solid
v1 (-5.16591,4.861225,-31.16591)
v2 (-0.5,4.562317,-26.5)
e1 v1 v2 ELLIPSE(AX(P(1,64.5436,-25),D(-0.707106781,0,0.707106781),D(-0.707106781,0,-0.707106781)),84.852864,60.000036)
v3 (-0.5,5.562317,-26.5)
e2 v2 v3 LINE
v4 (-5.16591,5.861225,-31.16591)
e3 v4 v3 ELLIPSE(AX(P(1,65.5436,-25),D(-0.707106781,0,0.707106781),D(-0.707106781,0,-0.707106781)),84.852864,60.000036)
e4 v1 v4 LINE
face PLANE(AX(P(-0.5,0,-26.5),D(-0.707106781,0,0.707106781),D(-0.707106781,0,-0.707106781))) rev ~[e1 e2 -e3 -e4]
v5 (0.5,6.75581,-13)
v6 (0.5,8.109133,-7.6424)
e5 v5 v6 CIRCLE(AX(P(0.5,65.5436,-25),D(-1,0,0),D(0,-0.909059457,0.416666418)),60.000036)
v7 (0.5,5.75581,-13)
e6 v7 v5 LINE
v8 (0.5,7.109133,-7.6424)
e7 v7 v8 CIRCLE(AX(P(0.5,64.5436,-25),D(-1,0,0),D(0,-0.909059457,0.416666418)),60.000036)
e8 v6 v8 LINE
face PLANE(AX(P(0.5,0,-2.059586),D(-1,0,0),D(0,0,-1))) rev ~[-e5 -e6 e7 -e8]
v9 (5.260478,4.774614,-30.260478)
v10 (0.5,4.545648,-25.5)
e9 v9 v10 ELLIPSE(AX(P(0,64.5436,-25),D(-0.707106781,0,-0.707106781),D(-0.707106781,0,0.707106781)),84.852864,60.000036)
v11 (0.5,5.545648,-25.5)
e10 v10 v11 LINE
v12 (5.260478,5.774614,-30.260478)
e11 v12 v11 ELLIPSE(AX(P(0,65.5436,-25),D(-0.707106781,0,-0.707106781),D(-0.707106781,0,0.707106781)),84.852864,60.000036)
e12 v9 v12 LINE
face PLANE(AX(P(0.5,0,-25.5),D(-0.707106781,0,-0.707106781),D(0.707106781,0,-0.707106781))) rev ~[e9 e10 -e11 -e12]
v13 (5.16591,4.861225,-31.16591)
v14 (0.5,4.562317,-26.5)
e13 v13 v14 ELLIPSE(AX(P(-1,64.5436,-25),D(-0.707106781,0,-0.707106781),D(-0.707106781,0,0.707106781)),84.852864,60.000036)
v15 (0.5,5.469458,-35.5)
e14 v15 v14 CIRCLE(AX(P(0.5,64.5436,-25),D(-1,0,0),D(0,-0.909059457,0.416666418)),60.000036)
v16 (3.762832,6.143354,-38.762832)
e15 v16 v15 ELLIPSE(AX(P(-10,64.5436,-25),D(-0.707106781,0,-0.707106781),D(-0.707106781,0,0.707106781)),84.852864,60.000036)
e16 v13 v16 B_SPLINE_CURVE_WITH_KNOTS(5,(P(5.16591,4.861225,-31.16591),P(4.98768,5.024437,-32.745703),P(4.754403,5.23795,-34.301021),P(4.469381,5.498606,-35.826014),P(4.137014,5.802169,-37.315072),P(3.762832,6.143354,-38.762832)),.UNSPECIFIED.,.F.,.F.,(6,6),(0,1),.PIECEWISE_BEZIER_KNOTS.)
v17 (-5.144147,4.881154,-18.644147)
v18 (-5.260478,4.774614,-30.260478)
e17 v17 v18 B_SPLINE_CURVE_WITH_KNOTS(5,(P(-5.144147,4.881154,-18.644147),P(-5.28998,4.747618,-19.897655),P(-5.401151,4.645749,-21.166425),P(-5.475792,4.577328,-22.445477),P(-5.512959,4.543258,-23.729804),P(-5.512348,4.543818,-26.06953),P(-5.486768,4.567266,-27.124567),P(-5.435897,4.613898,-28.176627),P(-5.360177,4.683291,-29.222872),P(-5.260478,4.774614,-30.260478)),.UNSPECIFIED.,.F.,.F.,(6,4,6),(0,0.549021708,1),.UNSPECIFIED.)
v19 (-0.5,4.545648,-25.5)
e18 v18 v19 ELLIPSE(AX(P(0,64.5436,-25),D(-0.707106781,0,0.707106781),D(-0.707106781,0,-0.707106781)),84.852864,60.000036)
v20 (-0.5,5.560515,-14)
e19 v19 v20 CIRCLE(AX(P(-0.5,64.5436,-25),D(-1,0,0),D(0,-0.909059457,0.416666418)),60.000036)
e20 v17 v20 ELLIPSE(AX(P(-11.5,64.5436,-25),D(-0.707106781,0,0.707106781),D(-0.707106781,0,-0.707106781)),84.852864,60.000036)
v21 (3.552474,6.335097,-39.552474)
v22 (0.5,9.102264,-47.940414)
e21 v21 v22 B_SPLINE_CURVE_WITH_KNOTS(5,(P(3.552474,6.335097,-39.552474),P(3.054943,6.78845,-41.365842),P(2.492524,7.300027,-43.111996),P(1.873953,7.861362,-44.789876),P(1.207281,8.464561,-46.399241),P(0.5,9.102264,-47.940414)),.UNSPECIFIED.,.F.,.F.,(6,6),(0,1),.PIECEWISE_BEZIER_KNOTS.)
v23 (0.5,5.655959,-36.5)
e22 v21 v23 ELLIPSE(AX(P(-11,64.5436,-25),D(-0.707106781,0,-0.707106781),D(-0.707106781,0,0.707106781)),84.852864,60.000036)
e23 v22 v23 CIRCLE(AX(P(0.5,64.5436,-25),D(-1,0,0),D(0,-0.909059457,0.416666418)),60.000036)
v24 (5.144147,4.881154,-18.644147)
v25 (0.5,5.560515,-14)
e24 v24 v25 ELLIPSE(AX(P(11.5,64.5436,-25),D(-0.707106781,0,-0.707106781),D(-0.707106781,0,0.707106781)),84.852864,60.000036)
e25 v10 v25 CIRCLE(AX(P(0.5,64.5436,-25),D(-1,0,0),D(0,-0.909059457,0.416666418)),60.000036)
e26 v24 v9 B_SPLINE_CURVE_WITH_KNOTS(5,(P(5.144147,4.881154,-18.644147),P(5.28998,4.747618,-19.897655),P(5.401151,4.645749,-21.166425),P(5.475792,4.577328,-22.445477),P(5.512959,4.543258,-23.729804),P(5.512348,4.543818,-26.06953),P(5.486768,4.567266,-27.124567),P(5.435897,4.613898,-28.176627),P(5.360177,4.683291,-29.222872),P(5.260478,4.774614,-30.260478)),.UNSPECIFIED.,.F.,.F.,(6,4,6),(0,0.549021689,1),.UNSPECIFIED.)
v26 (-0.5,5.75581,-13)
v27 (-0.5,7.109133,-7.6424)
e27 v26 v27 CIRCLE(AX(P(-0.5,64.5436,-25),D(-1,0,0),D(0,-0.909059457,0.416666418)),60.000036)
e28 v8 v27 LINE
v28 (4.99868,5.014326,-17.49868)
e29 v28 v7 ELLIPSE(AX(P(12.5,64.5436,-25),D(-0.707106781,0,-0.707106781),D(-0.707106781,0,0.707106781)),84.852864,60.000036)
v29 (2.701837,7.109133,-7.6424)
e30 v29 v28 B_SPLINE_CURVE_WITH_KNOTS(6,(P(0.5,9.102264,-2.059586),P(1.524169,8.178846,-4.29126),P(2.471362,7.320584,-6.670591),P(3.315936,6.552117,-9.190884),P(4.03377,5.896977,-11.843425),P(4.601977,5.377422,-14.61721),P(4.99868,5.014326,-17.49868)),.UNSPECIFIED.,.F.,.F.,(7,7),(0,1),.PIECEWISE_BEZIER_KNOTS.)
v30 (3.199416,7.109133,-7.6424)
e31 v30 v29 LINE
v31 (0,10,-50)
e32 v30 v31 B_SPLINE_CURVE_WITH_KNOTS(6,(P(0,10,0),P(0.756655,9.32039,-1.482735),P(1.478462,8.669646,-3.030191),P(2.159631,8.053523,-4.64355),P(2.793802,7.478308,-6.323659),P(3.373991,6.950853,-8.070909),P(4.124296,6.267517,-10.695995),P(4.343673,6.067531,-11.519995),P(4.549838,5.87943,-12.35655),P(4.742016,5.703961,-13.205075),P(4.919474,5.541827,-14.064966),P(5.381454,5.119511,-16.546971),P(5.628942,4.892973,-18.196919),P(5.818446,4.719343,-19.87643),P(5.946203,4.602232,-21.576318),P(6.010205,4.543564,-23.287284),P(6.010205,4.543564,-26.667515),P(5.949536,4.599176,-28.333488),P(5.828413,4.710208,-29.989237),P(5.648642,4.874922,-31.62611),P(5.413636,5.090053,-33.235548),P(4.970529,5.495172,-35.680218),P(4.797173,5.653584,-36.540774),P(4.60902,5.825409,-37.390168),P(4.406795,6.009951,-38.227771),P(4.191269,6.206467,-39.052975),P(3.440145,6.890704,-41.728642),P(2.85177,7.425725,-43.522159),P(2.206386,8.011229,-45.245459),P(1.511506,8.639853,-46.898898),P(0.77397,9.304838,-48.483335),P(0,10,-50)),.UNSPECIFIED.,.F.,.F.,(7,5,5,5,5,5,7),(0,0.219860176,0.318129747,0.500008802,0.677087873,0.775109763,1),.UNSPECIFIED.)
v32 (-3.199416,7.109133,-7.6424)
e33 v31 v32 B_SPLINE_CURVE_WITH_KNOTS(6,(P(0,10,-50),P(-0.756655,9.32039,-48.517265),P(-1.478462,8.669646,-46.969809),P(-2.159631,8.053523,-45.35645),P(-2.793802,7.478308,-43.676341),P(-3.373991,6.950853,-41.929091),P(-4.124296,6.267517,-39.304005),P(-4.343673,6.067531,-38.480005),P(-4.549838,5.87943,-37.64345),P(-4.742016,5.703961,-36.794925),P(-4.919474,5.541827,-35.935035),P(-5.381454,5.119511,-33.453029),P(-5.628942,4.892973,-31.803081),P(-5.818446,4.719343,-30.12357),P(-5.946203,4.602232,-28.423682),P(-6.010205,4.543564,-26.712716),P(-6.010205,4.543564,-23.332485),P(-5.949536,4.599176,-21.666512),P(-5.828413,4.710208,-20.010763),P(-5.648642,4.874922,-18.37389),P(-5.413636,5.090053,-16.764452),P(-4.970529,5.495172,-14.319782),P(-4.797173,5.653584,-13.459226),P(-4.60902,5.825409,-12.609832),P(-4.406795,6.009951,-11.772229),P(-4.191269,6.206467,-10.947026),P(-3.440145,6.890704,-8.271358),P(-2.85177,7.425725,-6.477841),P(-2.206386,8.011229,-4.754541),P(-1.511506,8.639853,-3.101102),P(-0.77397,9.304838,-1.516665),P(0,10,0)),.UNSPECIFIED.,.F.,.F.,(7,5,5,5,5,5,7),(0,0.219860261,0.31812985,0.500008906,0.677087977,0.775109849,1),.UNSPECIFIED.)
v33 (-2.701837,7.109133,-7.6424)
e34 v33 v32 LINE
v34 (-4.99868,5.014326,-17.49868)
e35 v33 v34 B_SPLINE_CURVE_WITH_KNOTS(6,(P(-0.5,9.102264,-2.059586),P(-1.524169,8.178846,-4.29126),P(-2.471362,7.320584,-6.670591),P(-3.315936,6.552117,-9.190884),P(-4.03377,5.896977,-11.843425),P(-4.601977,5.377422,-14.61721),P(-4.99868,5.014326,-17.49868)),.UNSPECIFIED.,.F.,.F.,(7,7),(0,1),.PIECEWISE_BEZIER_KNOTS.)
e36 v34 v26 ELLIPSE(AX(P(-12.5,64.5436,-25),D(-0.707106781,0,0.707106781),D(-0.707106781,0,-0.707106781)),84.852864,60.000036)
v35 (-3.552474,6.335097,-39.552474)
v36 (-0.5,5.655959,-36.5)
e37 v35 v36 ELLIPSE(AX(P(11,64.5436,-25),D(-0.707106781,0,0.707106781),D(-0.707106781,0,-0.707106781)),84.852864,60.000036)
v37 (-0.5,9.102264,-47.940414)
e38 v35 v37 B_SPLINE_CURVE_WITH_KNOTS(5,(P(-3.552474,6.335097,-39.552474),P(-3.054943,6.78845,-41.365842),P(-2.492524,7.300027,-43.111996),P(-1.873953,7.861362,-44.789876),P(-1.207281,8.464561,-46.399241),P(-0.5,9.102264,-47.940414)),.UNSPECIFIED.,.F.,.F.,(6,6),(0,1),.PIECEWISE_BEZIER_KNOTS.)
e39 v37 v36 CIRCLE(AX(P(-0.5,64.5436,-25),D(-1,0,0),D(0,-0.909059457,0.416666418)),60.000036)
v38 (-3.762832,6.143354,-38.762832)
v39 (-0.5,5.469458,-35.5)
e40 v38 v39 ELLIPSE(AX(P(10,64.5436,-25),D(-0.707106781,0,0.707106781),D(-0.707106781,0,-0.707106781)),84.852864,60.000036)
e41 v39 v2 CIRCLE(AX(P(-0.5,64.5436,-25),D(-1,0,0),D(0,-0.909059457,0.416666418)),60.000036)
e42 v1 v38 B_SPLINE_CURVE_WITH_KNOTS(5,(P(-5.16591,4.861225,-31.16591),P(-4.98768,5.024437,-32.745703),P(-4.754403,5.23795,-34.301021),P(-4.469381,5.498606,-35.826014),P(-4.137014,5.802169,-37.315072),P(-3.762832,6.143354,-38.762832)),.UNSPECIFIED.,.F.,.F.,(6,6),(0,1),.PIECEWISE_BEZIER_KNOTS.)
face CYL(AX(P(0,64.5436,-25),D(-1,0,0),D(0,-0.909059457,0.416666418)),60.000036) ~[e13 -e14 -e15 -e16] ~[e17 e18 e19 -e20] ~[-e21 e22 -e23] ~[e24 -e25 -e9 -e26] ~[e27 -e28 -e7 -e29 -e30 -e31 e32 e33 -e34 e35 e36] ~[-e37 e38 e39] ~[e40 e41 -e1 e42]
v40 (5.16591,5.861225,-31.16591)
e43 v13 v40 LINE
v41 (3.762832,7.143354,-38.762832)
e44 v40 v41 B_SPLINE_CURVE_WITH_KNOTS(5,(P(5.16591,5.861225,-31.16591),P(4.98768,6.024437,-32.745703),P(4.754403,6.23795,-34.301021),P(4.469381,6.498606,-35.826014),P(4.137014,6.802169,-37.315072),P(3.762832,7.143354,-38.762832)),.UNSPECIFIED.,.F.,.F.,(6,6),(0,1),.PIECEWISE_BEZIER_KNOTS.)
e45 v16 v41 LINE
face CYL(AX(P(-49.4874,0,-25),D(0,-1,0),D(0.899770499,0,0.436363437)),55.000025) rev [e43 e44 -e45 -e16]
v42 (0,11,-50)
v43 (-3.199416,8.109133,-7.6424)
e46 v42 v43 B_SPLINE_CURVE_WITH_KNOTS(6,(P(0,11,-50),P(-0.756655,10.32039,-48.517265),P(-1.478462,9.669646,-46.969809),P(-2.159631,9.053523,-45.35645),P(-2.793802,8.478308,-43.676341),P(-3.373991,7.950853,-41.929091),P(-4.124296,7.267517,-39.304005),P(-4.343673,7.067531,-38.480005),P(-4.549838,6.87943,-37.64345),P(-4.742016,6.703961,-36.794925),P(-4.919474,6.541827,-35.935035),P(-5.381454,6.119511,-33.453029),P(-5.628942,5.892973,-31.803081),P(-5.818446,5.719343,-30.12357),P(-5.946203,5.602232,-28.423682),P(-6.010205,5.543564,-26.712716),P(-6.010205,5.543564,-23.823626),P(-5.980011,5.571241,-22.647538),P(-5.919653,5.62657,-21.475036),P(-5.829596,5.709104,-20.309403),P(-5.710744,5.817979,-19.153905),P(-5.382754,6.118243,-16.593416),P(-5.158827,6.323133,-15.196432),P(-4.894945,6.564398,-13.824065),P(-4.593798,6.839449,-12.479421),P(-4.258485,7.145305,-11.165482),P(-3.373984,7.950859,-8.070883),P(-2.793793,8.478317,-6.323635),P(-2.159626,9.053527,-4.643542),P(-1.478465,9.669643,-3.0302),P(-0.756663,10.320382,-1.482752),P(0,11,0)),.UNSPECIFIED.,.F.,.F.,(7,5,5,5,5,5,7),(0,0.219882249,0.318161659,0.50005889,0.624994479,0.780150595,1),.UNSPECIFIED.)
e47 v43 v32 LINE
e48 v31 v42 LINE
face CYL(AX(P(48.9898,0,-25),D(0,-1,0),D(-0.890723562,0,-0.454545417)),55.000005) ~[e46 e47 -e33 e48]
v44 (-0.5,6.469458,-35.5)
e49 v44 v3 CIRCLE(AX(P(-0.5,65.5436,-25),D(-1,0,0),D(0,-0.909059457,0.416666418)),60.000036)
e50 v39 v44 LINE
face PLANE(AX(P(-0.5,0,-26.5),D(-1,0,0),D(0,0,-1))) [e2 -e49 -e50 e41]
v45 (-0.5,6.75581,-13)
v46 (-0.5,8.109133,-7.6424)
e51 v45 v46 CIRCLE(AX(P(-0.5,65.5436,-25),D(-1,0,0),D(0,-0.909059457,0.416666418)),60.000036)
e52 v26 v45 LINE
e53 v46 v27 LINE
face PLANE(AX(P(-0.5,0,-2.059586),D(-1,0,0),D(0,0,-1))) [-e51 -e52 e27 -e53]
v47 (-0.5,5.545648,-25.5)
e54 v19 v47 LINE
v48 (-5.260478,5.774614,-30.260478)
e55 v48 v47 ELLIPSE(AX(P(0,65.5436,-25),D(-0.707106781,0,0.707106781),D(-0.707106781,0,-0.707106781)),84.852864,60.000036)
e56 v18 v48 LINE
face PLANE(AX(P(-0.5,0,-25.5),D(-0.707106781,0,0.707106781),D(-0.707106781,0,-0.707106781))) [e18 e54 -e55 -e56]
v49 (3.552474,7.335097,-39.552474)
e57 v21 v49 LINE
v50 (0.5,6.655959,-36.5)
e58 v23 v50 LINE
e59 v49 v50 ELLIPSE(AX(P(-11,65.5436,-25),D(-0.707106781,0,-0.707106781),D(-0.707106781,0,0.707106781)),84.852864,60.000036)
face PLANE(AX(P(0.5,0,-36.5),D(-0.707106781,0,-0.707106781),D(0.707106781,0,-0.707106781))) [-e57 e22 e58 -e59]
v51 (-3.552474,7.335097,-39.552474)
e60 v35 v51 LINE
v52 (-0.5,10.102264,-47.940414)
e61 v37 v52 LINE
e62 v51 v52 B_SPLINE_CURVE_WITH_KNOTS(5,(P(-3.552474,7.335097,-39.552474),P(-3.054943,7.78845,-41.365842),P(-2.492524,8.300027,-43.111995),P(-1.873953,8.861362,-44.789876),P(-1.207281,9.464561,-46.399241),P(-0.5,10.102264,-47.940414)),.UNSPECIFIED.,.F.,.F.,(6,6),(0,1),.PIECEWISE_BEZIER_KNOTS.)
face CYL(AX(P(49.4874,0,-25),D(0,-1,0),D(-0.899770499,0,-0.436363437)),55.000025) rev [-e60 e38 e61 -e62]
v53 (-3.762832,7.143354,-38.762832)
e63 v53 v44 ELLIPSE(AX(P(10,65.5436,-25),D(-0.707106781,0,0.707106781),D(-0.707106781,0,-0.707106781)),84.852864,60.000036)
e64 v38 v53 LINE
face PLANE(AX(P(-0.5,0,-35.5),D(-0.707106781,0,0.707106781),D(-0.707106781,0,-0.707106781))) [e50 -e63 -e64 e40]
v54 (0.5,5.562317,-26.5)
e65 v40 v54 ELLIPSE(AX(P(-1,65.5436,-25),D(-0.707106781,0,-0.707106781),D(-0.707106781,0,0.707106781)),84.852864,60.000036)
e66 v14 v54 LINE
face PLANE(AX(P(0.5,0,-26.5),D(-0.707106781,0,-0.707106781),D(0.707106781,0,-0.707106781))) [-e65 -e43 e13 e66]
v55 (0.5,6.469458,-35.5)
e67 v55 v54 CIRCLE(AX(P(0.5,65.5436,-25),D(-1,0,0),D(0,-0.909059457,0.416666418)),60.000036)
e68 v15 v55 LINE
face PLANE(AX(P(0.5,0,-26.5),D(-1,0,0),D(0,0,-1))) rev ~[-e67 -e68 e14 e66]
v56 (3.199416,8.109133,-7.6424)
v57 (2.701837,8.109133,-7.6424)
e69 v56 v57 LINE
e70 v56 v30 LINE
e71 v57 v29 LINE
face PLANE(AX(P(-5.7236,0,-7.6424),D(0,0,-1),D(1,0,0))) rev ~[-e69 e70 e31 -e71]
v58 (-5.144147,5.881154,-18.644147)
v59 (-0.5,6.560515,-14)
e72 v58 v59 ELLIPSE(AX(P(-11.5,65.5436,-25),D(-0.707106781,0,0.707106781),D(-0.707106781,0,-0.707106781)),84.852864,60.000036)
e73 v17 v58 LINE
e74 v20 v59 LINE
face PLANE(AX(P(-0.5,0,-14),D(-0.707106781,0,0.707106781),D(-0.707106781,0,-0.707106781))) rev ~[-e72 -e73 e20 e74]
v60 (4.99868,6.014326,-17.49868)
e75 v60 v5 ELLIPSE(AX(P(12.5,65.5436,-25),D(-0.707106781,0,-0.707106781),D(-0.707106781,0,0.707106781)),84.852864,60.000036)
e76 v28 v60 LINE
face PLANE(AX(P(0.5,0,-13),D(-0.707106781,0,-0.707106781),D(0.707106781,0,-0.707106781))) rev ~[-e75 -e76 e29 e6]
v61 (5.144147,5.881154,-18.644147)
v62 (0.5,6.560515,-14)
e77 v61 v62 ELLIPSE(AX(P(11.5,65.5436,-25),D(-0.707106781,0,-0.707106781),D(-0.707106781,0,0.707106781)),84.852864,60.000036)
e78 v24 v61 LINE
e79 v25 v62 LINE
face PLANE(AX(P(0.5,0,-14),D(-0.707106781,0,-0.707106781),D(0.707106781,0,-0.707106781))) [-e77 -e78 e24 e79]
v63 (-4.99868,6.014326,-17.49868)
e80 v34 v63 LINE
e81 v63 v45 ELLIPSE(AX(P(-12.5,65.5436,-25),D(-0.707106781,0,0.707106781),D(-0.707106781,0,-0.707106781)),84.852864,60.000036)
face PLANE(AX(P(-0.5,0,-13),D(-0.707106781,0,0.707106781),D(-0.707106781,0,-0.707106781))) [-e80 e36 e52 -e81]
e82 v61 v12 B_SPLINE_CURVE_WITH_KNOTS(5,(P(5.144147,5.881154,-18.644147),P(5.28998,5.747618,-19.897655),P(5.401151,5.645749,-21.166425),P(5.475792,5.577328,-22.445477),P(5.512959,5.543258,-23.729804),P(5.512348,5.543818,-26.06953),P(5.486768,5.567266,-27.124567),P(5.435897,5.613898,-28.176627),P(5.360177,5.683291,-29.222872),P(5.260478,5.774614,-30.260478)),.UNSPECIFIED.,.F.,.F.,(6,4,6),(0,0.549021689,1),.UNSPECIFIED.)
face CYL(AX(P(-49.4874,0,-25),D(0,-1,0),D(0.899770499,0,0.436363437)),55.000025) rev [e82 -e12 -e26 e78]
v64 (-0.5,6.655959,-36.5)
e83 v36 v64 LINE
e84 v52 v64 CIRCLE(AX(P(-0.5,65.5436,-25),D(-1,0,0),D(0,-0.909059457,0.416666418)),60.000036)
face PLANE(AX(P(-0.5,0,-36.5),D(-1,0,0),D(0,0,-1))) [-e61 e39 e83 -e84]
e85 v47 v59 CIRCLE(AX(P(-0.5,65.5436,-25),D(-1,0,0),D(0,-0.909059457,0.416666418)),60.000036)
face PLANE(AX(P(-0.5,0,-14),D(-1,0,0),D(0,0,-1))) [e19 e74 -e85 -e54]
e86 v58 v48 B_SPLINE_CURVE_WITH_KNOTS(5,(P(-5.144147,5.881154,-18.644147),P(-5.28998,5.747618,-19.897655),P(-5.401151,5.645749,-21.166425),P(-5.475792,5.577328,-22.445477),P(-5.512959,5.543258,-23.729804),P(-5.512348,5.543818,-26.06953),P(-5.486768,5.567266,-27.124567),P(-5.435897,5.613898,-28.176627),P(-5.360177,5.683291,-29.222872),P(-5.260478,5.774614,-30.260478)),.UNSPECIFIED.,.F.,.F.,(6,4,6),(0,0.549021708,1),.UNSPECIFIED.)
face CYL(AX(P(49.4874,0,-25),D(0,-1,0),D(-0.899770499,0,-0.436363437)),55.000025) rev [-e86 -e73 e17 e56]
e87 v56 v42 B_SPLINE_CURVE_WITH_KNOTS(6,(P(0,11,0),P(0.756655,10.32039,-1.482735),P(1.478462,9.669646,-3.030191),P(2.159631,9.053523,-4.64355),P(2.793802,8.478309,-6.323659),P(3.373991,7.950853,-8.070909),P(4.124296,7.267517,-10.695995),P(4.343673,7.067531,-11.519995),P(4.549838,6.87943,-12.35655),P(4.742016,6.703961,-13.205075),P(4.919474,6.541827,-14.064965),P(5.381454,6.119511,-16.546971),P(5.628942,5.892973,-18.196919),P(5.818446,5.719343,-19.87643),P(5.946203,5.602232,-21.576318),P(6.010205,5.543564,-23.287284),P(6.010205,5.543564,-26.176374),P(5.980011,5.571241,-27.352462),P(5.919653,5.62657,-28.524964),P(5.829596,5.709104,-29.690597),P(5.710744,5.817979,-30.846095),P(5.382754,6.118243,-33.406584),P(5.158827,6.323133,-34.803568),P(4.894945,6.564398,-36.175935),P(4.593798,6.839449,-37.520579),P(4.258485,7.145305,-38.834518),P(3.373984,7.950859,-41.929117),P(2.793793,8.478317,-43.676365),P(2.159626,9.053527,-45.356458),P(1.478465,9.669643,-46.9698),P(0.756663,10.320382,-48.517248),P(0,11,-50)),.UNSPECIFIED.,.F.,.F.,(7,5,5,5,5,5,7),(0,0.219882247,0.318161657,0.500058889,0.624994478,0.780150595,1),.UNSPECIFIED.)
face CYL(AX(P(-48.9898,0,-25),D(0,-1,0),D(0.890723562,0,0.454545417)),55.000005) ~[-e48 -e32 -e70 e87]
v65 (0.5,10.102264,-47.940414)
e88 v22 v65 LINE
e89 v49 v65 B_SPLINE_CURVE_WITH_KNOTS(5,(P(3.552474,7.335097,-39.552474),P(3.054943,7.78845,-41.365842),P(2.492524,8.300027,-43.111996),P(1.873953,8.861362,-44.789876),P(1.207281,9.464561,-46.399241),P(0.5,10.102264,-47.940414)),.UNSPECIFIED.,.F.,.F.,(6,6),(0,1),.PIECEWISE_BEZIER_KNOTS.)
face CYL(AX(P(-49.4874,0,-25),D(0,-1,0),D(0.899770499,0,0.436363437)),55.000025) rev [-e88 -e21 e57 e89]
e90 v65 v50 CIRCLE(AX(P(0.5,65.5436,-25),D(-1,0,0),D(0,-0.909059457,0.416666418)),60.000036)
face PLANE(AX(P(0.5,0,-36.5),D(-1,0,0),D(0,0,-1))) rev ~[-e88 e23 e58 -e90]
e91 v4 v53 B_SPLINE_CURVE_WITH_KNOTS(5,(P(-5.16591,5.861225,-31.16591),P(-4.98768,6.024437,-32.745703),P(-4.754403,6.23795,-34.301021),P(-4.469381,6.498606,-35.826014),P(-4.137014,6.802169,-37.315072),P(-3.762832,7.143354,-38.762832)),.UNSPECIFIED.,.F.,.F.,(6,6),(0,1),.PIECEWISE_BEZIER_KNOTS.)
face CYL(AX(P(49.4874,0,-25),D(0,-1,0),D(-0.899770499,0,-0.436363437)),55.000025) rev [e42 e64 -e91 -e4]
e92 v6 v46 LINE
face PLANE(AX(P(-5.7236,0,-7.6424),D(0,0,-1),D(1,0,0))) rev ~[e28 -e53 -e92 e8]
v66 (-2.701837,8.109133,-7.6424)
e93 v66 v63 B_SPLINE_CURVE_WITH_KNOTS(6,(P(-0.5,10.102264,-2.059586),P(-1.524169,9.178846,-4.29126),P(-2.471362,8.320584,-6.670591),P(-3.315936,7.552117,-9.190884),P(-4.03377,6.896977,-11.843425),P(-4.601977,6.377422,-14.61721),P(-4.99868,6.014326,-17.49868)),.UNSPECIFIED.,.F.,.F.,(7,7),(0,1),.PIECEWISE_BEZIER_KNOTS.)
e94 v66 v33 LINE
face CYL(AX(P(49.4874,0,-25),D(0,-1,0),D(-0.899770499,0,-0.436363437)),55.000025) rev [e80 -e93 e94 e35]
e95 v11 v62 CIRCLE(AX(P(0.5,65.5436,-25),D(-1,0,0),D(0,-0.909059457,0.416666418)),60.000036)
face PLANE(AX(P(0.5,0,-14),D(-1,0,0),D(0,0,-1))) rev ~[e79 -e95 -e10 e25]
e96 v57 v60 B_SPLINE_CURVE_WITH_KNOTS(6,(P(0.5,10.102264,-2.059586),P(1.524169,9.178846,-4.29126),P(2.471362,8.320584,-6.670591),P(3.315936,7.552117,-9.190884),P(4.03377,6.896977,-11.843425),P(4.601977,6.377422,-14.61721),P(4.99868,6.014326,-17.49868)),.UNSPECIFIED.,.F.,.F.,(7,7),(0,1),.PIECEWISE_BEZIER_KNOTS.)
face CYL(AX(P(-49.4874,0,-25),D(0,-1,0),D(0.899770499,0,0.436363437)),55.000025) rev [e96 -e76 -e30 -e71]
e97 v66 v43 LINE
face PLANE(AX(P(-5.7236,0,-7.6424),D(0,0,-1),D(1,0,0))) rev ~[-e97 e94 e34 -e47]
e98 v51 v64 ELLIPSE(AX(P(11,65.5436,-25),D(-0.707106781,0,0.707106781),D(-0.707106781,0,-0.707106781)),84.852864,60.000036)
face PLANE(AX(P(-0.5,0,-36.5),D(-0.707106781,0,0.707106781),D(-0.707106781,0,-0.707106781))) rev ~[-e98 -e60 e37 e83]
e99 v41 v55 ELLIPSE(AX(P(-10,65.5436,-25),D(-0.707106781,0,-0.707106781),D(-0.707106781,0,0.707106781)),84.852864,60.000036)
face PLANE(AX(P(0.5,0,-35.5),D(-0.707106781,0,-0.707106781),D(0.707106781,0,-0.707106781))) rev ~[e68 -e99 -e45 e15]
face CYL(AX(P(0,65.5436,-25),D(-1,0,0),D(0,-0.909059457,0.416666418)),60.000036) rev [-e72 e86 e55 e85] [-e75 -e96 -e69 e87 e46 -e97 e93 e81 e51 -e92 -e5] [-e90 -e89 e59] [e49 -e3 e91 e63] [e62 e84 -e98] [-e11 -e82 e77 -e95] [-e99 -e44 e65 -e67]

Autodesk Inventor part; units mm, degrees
ref_plane "YZ Plane" through (0, 0, 0) normal (1, 0, 0) x (0, 1, 0)
ref_plane "XZ Plane" through (0, 0, 0) normal (0, 1, 0) x (-1, 0, 0)
ref_plane "XY Plane" through (0, 0, 0) normal (0, 0, 1) x (1, 0, 0)
sketch "Sketch1" plane through (0, 0, 0) normal (0, 1, 0) x (-1, 0, 0)
  arc A0 (0, -50) -> (0, 0) centre (-48.9898, -25) ccw
  arc A1 (0, -49) -> (0, -1) centre (-49.4874, -25) ccw
  line L0 (0, 0) -> (0, -50)
  line L1 (0, -12.5) -> (5.5721, -18.0721)
  line L2 (0, -12.5) -> (7.8802, -12.5) construction
  line L3 (0, -13.5) -> (5.704, -19.204)
  line L4 (0, -25) -> (5.7127, -30.7127)
  line L5 (0, -25) -> (8.079, -25) construction
  line L6 (0, -26) -> (5.6114, -31.6114)
  line L7 (0, -35) -> (4.157, -39.157)
  line L8 (0, -35) -> (5.8789, -35) construction
  line L9 (0, -36) -> (3.9417, -39.9417)
  arc A2 (0, 0) -> (0, -50) centre (48.9898, -25) ccw
  arc A3 (0, -1) -> (0, -49) centre (49.4874, -25) ccw
  line L10 (0, -12.5) -> (-5.5721, -18.0721)
  line L11 (0, -13.5) -> (-5.704, -19.204)
  line L12 (0, -25) -> (-5.7127, -30.7127)
  line L13 (0, -26) -> (-5.6114, -31.6114)
  line L14 (0, -35) -> (-4.157, -39.157)
  line L15 (0, -36) -> (-3.9417, -39.9417)
  line L16 (0.5, 0) -> (0.5, -50.0047)
  line L17 (-0.5, 0) -> (-0.5, -50.0047)
  point P0 (5.1659, -31.1659)
  point P1 (3.7628, -38.7628)
  point P2 (0.5, -35.5)
  point P3 (0.5, -26.5)
  point P4 (-3.7628, -38.7628)
  point P5 (-5.1659, -31.1659)
  point P6 (-0.5, -26.5)
  point P7 (-0.5, -35.5)
  point P8 (-5.2605, -30.2605)
  point P9 (-5.1441, -18.6441)
  point P10 (-0.5, -14)
  point P11 (-0.5, -25.5)
  point P12 (-4.9987, -17.4987)
  point P13 (-0.5, -2.0596)
  point P14 (-0.5, -13)
  point P15 (-0.5, -36.5)
  point P16 (-0.5, -47.9404)
  point P17 (-3.5525, -39.5525)
  point P18 (4.9987, -17.4987)
  point P19 (0.5, -13)
  point P20 (0.5, -2.0596)
  point P21 (3.5525, -39.5525)
  point P22 (0.5, -47.9404)
  point P23 (0.5, -36.5)
  point P24 (5.1441, -18.6441)
  point P25 (5.2605, -30.2605)
  point P26 (0.5, -25.5)
  point P27 (0.5, -14)
  dimension "d0" = 50
  dimension "d1" = 55
  dimension "d2" = 48
  dimension "d3" = 55
  dimension "d4" = 45
  dimension "d5" = 45
  dimension "d6" = 45
extrude "Extrusion1" add sketch "Sketch1" along normal blind 20 contours L9 A1 L7 A0 | A0 L16 A1 L9 | L7 A1 L6 A0 | A0 L0 A1 L16 | L9 L16 L7 A1 | L6 A1 L4 A0 | A2 L17 A3 L0 | A1 L0 L9 L16 | L9 L0 L7 L16 | L4 A1 L3 A0 | L6 L16 L4 A1 | L7 L0 L6 L16 | A3 L17 L15 L0 | A2 L15 A3 L17 | L15 L17 L14 L0 | L3 A1 L1 A0 | L6 L0 L4 L16 | L14 L17 L13 L0 | A2 L14 A3 L15 | L15 A3 L14 L17 | L1 A1 L16 A0 | L3 L16 L1 A1 | L4 L0 L3 L16 | L13 L17 L12 L0 | A2 L13 A3 L14 | L16 A1 L0 A0 | L3 L0 L1 L16 | L12 L17 L11 L0 | L13 A3 L12 L17 | A2 L12 A3 L13 | L0 A3 L17 A2 | L16 L1 L0 A1 | L11 L17 L10 L0 | A2 L11 A3 L12 | L0 L10 L17 A3 | L17 A3 L10 A2 | L11 A3 L10 L17 | A2 L10 A3 L11
sketch "Sketch2" plane through (0, 0, 0) normal (0, 0, 1) x (1, 0, 0)
  point P0 (0, 0)
sketch "Sketch3" plane through (0, 0, 0) normal (1, 0, 0) x (0, 1, 0)
  line L0 (0, 0) -> (20, 0) projected
  line L1 (0, -50) -> (20, -50) projected
  arc A0 (10, 0) -> (10, -50) centre (64.5436, -25) ccw
  arc A1 (11, 0) -> (11, -50) centre (65.5436, -25) ccw
  line L2 (11, 0) -> (11, -50) construction
  line L3 (11, 0) -> (61, 0) construction
  line L4 (11, 0) -> (20, 0)
  line L5 (20, -50) -> (20, 0) projected
  line L6 (20, 0) -> (20, -50)
  line L7 (20, -50) -> (11, -50)
  line L8 (10, 0) -> (0, 0)
  line L9 (0, 0) -> (0, -50)
  line L10 (10, -50) -> (0, -50)
  point P0 (11, 0)
  point P1 (11, -50)
  dimension "d9" = 60
  dimension "d10" = 50
  dimension "d11" = 90
  dimension "d12" = 60
extrude "Extrusion2" cut sketch "Sketch3" along normal mid plane 20 contours L0 A0 L1 L9 | L0 L5 L1 A1
sketch "Sketch4" plane through (0, 0, 0) normal (0, 1, 0) x (-1, 0, 0)
  line L0 (5.7236, -7.6424) -> (-5.525, -7.6424)
  line L1 (-5.525, -7.6424) -> (-5.525, 3.7385)
  line L2 (-5.525, 3.7385) -> (5.7236, 3.7385)
  line L3 (5.7236, 3.7385) -> (5.7236, -7.6424)
  point P0 (0, 0)
extrude "Extrusion3" cut sketch "Sketch4" along normal blind 15
